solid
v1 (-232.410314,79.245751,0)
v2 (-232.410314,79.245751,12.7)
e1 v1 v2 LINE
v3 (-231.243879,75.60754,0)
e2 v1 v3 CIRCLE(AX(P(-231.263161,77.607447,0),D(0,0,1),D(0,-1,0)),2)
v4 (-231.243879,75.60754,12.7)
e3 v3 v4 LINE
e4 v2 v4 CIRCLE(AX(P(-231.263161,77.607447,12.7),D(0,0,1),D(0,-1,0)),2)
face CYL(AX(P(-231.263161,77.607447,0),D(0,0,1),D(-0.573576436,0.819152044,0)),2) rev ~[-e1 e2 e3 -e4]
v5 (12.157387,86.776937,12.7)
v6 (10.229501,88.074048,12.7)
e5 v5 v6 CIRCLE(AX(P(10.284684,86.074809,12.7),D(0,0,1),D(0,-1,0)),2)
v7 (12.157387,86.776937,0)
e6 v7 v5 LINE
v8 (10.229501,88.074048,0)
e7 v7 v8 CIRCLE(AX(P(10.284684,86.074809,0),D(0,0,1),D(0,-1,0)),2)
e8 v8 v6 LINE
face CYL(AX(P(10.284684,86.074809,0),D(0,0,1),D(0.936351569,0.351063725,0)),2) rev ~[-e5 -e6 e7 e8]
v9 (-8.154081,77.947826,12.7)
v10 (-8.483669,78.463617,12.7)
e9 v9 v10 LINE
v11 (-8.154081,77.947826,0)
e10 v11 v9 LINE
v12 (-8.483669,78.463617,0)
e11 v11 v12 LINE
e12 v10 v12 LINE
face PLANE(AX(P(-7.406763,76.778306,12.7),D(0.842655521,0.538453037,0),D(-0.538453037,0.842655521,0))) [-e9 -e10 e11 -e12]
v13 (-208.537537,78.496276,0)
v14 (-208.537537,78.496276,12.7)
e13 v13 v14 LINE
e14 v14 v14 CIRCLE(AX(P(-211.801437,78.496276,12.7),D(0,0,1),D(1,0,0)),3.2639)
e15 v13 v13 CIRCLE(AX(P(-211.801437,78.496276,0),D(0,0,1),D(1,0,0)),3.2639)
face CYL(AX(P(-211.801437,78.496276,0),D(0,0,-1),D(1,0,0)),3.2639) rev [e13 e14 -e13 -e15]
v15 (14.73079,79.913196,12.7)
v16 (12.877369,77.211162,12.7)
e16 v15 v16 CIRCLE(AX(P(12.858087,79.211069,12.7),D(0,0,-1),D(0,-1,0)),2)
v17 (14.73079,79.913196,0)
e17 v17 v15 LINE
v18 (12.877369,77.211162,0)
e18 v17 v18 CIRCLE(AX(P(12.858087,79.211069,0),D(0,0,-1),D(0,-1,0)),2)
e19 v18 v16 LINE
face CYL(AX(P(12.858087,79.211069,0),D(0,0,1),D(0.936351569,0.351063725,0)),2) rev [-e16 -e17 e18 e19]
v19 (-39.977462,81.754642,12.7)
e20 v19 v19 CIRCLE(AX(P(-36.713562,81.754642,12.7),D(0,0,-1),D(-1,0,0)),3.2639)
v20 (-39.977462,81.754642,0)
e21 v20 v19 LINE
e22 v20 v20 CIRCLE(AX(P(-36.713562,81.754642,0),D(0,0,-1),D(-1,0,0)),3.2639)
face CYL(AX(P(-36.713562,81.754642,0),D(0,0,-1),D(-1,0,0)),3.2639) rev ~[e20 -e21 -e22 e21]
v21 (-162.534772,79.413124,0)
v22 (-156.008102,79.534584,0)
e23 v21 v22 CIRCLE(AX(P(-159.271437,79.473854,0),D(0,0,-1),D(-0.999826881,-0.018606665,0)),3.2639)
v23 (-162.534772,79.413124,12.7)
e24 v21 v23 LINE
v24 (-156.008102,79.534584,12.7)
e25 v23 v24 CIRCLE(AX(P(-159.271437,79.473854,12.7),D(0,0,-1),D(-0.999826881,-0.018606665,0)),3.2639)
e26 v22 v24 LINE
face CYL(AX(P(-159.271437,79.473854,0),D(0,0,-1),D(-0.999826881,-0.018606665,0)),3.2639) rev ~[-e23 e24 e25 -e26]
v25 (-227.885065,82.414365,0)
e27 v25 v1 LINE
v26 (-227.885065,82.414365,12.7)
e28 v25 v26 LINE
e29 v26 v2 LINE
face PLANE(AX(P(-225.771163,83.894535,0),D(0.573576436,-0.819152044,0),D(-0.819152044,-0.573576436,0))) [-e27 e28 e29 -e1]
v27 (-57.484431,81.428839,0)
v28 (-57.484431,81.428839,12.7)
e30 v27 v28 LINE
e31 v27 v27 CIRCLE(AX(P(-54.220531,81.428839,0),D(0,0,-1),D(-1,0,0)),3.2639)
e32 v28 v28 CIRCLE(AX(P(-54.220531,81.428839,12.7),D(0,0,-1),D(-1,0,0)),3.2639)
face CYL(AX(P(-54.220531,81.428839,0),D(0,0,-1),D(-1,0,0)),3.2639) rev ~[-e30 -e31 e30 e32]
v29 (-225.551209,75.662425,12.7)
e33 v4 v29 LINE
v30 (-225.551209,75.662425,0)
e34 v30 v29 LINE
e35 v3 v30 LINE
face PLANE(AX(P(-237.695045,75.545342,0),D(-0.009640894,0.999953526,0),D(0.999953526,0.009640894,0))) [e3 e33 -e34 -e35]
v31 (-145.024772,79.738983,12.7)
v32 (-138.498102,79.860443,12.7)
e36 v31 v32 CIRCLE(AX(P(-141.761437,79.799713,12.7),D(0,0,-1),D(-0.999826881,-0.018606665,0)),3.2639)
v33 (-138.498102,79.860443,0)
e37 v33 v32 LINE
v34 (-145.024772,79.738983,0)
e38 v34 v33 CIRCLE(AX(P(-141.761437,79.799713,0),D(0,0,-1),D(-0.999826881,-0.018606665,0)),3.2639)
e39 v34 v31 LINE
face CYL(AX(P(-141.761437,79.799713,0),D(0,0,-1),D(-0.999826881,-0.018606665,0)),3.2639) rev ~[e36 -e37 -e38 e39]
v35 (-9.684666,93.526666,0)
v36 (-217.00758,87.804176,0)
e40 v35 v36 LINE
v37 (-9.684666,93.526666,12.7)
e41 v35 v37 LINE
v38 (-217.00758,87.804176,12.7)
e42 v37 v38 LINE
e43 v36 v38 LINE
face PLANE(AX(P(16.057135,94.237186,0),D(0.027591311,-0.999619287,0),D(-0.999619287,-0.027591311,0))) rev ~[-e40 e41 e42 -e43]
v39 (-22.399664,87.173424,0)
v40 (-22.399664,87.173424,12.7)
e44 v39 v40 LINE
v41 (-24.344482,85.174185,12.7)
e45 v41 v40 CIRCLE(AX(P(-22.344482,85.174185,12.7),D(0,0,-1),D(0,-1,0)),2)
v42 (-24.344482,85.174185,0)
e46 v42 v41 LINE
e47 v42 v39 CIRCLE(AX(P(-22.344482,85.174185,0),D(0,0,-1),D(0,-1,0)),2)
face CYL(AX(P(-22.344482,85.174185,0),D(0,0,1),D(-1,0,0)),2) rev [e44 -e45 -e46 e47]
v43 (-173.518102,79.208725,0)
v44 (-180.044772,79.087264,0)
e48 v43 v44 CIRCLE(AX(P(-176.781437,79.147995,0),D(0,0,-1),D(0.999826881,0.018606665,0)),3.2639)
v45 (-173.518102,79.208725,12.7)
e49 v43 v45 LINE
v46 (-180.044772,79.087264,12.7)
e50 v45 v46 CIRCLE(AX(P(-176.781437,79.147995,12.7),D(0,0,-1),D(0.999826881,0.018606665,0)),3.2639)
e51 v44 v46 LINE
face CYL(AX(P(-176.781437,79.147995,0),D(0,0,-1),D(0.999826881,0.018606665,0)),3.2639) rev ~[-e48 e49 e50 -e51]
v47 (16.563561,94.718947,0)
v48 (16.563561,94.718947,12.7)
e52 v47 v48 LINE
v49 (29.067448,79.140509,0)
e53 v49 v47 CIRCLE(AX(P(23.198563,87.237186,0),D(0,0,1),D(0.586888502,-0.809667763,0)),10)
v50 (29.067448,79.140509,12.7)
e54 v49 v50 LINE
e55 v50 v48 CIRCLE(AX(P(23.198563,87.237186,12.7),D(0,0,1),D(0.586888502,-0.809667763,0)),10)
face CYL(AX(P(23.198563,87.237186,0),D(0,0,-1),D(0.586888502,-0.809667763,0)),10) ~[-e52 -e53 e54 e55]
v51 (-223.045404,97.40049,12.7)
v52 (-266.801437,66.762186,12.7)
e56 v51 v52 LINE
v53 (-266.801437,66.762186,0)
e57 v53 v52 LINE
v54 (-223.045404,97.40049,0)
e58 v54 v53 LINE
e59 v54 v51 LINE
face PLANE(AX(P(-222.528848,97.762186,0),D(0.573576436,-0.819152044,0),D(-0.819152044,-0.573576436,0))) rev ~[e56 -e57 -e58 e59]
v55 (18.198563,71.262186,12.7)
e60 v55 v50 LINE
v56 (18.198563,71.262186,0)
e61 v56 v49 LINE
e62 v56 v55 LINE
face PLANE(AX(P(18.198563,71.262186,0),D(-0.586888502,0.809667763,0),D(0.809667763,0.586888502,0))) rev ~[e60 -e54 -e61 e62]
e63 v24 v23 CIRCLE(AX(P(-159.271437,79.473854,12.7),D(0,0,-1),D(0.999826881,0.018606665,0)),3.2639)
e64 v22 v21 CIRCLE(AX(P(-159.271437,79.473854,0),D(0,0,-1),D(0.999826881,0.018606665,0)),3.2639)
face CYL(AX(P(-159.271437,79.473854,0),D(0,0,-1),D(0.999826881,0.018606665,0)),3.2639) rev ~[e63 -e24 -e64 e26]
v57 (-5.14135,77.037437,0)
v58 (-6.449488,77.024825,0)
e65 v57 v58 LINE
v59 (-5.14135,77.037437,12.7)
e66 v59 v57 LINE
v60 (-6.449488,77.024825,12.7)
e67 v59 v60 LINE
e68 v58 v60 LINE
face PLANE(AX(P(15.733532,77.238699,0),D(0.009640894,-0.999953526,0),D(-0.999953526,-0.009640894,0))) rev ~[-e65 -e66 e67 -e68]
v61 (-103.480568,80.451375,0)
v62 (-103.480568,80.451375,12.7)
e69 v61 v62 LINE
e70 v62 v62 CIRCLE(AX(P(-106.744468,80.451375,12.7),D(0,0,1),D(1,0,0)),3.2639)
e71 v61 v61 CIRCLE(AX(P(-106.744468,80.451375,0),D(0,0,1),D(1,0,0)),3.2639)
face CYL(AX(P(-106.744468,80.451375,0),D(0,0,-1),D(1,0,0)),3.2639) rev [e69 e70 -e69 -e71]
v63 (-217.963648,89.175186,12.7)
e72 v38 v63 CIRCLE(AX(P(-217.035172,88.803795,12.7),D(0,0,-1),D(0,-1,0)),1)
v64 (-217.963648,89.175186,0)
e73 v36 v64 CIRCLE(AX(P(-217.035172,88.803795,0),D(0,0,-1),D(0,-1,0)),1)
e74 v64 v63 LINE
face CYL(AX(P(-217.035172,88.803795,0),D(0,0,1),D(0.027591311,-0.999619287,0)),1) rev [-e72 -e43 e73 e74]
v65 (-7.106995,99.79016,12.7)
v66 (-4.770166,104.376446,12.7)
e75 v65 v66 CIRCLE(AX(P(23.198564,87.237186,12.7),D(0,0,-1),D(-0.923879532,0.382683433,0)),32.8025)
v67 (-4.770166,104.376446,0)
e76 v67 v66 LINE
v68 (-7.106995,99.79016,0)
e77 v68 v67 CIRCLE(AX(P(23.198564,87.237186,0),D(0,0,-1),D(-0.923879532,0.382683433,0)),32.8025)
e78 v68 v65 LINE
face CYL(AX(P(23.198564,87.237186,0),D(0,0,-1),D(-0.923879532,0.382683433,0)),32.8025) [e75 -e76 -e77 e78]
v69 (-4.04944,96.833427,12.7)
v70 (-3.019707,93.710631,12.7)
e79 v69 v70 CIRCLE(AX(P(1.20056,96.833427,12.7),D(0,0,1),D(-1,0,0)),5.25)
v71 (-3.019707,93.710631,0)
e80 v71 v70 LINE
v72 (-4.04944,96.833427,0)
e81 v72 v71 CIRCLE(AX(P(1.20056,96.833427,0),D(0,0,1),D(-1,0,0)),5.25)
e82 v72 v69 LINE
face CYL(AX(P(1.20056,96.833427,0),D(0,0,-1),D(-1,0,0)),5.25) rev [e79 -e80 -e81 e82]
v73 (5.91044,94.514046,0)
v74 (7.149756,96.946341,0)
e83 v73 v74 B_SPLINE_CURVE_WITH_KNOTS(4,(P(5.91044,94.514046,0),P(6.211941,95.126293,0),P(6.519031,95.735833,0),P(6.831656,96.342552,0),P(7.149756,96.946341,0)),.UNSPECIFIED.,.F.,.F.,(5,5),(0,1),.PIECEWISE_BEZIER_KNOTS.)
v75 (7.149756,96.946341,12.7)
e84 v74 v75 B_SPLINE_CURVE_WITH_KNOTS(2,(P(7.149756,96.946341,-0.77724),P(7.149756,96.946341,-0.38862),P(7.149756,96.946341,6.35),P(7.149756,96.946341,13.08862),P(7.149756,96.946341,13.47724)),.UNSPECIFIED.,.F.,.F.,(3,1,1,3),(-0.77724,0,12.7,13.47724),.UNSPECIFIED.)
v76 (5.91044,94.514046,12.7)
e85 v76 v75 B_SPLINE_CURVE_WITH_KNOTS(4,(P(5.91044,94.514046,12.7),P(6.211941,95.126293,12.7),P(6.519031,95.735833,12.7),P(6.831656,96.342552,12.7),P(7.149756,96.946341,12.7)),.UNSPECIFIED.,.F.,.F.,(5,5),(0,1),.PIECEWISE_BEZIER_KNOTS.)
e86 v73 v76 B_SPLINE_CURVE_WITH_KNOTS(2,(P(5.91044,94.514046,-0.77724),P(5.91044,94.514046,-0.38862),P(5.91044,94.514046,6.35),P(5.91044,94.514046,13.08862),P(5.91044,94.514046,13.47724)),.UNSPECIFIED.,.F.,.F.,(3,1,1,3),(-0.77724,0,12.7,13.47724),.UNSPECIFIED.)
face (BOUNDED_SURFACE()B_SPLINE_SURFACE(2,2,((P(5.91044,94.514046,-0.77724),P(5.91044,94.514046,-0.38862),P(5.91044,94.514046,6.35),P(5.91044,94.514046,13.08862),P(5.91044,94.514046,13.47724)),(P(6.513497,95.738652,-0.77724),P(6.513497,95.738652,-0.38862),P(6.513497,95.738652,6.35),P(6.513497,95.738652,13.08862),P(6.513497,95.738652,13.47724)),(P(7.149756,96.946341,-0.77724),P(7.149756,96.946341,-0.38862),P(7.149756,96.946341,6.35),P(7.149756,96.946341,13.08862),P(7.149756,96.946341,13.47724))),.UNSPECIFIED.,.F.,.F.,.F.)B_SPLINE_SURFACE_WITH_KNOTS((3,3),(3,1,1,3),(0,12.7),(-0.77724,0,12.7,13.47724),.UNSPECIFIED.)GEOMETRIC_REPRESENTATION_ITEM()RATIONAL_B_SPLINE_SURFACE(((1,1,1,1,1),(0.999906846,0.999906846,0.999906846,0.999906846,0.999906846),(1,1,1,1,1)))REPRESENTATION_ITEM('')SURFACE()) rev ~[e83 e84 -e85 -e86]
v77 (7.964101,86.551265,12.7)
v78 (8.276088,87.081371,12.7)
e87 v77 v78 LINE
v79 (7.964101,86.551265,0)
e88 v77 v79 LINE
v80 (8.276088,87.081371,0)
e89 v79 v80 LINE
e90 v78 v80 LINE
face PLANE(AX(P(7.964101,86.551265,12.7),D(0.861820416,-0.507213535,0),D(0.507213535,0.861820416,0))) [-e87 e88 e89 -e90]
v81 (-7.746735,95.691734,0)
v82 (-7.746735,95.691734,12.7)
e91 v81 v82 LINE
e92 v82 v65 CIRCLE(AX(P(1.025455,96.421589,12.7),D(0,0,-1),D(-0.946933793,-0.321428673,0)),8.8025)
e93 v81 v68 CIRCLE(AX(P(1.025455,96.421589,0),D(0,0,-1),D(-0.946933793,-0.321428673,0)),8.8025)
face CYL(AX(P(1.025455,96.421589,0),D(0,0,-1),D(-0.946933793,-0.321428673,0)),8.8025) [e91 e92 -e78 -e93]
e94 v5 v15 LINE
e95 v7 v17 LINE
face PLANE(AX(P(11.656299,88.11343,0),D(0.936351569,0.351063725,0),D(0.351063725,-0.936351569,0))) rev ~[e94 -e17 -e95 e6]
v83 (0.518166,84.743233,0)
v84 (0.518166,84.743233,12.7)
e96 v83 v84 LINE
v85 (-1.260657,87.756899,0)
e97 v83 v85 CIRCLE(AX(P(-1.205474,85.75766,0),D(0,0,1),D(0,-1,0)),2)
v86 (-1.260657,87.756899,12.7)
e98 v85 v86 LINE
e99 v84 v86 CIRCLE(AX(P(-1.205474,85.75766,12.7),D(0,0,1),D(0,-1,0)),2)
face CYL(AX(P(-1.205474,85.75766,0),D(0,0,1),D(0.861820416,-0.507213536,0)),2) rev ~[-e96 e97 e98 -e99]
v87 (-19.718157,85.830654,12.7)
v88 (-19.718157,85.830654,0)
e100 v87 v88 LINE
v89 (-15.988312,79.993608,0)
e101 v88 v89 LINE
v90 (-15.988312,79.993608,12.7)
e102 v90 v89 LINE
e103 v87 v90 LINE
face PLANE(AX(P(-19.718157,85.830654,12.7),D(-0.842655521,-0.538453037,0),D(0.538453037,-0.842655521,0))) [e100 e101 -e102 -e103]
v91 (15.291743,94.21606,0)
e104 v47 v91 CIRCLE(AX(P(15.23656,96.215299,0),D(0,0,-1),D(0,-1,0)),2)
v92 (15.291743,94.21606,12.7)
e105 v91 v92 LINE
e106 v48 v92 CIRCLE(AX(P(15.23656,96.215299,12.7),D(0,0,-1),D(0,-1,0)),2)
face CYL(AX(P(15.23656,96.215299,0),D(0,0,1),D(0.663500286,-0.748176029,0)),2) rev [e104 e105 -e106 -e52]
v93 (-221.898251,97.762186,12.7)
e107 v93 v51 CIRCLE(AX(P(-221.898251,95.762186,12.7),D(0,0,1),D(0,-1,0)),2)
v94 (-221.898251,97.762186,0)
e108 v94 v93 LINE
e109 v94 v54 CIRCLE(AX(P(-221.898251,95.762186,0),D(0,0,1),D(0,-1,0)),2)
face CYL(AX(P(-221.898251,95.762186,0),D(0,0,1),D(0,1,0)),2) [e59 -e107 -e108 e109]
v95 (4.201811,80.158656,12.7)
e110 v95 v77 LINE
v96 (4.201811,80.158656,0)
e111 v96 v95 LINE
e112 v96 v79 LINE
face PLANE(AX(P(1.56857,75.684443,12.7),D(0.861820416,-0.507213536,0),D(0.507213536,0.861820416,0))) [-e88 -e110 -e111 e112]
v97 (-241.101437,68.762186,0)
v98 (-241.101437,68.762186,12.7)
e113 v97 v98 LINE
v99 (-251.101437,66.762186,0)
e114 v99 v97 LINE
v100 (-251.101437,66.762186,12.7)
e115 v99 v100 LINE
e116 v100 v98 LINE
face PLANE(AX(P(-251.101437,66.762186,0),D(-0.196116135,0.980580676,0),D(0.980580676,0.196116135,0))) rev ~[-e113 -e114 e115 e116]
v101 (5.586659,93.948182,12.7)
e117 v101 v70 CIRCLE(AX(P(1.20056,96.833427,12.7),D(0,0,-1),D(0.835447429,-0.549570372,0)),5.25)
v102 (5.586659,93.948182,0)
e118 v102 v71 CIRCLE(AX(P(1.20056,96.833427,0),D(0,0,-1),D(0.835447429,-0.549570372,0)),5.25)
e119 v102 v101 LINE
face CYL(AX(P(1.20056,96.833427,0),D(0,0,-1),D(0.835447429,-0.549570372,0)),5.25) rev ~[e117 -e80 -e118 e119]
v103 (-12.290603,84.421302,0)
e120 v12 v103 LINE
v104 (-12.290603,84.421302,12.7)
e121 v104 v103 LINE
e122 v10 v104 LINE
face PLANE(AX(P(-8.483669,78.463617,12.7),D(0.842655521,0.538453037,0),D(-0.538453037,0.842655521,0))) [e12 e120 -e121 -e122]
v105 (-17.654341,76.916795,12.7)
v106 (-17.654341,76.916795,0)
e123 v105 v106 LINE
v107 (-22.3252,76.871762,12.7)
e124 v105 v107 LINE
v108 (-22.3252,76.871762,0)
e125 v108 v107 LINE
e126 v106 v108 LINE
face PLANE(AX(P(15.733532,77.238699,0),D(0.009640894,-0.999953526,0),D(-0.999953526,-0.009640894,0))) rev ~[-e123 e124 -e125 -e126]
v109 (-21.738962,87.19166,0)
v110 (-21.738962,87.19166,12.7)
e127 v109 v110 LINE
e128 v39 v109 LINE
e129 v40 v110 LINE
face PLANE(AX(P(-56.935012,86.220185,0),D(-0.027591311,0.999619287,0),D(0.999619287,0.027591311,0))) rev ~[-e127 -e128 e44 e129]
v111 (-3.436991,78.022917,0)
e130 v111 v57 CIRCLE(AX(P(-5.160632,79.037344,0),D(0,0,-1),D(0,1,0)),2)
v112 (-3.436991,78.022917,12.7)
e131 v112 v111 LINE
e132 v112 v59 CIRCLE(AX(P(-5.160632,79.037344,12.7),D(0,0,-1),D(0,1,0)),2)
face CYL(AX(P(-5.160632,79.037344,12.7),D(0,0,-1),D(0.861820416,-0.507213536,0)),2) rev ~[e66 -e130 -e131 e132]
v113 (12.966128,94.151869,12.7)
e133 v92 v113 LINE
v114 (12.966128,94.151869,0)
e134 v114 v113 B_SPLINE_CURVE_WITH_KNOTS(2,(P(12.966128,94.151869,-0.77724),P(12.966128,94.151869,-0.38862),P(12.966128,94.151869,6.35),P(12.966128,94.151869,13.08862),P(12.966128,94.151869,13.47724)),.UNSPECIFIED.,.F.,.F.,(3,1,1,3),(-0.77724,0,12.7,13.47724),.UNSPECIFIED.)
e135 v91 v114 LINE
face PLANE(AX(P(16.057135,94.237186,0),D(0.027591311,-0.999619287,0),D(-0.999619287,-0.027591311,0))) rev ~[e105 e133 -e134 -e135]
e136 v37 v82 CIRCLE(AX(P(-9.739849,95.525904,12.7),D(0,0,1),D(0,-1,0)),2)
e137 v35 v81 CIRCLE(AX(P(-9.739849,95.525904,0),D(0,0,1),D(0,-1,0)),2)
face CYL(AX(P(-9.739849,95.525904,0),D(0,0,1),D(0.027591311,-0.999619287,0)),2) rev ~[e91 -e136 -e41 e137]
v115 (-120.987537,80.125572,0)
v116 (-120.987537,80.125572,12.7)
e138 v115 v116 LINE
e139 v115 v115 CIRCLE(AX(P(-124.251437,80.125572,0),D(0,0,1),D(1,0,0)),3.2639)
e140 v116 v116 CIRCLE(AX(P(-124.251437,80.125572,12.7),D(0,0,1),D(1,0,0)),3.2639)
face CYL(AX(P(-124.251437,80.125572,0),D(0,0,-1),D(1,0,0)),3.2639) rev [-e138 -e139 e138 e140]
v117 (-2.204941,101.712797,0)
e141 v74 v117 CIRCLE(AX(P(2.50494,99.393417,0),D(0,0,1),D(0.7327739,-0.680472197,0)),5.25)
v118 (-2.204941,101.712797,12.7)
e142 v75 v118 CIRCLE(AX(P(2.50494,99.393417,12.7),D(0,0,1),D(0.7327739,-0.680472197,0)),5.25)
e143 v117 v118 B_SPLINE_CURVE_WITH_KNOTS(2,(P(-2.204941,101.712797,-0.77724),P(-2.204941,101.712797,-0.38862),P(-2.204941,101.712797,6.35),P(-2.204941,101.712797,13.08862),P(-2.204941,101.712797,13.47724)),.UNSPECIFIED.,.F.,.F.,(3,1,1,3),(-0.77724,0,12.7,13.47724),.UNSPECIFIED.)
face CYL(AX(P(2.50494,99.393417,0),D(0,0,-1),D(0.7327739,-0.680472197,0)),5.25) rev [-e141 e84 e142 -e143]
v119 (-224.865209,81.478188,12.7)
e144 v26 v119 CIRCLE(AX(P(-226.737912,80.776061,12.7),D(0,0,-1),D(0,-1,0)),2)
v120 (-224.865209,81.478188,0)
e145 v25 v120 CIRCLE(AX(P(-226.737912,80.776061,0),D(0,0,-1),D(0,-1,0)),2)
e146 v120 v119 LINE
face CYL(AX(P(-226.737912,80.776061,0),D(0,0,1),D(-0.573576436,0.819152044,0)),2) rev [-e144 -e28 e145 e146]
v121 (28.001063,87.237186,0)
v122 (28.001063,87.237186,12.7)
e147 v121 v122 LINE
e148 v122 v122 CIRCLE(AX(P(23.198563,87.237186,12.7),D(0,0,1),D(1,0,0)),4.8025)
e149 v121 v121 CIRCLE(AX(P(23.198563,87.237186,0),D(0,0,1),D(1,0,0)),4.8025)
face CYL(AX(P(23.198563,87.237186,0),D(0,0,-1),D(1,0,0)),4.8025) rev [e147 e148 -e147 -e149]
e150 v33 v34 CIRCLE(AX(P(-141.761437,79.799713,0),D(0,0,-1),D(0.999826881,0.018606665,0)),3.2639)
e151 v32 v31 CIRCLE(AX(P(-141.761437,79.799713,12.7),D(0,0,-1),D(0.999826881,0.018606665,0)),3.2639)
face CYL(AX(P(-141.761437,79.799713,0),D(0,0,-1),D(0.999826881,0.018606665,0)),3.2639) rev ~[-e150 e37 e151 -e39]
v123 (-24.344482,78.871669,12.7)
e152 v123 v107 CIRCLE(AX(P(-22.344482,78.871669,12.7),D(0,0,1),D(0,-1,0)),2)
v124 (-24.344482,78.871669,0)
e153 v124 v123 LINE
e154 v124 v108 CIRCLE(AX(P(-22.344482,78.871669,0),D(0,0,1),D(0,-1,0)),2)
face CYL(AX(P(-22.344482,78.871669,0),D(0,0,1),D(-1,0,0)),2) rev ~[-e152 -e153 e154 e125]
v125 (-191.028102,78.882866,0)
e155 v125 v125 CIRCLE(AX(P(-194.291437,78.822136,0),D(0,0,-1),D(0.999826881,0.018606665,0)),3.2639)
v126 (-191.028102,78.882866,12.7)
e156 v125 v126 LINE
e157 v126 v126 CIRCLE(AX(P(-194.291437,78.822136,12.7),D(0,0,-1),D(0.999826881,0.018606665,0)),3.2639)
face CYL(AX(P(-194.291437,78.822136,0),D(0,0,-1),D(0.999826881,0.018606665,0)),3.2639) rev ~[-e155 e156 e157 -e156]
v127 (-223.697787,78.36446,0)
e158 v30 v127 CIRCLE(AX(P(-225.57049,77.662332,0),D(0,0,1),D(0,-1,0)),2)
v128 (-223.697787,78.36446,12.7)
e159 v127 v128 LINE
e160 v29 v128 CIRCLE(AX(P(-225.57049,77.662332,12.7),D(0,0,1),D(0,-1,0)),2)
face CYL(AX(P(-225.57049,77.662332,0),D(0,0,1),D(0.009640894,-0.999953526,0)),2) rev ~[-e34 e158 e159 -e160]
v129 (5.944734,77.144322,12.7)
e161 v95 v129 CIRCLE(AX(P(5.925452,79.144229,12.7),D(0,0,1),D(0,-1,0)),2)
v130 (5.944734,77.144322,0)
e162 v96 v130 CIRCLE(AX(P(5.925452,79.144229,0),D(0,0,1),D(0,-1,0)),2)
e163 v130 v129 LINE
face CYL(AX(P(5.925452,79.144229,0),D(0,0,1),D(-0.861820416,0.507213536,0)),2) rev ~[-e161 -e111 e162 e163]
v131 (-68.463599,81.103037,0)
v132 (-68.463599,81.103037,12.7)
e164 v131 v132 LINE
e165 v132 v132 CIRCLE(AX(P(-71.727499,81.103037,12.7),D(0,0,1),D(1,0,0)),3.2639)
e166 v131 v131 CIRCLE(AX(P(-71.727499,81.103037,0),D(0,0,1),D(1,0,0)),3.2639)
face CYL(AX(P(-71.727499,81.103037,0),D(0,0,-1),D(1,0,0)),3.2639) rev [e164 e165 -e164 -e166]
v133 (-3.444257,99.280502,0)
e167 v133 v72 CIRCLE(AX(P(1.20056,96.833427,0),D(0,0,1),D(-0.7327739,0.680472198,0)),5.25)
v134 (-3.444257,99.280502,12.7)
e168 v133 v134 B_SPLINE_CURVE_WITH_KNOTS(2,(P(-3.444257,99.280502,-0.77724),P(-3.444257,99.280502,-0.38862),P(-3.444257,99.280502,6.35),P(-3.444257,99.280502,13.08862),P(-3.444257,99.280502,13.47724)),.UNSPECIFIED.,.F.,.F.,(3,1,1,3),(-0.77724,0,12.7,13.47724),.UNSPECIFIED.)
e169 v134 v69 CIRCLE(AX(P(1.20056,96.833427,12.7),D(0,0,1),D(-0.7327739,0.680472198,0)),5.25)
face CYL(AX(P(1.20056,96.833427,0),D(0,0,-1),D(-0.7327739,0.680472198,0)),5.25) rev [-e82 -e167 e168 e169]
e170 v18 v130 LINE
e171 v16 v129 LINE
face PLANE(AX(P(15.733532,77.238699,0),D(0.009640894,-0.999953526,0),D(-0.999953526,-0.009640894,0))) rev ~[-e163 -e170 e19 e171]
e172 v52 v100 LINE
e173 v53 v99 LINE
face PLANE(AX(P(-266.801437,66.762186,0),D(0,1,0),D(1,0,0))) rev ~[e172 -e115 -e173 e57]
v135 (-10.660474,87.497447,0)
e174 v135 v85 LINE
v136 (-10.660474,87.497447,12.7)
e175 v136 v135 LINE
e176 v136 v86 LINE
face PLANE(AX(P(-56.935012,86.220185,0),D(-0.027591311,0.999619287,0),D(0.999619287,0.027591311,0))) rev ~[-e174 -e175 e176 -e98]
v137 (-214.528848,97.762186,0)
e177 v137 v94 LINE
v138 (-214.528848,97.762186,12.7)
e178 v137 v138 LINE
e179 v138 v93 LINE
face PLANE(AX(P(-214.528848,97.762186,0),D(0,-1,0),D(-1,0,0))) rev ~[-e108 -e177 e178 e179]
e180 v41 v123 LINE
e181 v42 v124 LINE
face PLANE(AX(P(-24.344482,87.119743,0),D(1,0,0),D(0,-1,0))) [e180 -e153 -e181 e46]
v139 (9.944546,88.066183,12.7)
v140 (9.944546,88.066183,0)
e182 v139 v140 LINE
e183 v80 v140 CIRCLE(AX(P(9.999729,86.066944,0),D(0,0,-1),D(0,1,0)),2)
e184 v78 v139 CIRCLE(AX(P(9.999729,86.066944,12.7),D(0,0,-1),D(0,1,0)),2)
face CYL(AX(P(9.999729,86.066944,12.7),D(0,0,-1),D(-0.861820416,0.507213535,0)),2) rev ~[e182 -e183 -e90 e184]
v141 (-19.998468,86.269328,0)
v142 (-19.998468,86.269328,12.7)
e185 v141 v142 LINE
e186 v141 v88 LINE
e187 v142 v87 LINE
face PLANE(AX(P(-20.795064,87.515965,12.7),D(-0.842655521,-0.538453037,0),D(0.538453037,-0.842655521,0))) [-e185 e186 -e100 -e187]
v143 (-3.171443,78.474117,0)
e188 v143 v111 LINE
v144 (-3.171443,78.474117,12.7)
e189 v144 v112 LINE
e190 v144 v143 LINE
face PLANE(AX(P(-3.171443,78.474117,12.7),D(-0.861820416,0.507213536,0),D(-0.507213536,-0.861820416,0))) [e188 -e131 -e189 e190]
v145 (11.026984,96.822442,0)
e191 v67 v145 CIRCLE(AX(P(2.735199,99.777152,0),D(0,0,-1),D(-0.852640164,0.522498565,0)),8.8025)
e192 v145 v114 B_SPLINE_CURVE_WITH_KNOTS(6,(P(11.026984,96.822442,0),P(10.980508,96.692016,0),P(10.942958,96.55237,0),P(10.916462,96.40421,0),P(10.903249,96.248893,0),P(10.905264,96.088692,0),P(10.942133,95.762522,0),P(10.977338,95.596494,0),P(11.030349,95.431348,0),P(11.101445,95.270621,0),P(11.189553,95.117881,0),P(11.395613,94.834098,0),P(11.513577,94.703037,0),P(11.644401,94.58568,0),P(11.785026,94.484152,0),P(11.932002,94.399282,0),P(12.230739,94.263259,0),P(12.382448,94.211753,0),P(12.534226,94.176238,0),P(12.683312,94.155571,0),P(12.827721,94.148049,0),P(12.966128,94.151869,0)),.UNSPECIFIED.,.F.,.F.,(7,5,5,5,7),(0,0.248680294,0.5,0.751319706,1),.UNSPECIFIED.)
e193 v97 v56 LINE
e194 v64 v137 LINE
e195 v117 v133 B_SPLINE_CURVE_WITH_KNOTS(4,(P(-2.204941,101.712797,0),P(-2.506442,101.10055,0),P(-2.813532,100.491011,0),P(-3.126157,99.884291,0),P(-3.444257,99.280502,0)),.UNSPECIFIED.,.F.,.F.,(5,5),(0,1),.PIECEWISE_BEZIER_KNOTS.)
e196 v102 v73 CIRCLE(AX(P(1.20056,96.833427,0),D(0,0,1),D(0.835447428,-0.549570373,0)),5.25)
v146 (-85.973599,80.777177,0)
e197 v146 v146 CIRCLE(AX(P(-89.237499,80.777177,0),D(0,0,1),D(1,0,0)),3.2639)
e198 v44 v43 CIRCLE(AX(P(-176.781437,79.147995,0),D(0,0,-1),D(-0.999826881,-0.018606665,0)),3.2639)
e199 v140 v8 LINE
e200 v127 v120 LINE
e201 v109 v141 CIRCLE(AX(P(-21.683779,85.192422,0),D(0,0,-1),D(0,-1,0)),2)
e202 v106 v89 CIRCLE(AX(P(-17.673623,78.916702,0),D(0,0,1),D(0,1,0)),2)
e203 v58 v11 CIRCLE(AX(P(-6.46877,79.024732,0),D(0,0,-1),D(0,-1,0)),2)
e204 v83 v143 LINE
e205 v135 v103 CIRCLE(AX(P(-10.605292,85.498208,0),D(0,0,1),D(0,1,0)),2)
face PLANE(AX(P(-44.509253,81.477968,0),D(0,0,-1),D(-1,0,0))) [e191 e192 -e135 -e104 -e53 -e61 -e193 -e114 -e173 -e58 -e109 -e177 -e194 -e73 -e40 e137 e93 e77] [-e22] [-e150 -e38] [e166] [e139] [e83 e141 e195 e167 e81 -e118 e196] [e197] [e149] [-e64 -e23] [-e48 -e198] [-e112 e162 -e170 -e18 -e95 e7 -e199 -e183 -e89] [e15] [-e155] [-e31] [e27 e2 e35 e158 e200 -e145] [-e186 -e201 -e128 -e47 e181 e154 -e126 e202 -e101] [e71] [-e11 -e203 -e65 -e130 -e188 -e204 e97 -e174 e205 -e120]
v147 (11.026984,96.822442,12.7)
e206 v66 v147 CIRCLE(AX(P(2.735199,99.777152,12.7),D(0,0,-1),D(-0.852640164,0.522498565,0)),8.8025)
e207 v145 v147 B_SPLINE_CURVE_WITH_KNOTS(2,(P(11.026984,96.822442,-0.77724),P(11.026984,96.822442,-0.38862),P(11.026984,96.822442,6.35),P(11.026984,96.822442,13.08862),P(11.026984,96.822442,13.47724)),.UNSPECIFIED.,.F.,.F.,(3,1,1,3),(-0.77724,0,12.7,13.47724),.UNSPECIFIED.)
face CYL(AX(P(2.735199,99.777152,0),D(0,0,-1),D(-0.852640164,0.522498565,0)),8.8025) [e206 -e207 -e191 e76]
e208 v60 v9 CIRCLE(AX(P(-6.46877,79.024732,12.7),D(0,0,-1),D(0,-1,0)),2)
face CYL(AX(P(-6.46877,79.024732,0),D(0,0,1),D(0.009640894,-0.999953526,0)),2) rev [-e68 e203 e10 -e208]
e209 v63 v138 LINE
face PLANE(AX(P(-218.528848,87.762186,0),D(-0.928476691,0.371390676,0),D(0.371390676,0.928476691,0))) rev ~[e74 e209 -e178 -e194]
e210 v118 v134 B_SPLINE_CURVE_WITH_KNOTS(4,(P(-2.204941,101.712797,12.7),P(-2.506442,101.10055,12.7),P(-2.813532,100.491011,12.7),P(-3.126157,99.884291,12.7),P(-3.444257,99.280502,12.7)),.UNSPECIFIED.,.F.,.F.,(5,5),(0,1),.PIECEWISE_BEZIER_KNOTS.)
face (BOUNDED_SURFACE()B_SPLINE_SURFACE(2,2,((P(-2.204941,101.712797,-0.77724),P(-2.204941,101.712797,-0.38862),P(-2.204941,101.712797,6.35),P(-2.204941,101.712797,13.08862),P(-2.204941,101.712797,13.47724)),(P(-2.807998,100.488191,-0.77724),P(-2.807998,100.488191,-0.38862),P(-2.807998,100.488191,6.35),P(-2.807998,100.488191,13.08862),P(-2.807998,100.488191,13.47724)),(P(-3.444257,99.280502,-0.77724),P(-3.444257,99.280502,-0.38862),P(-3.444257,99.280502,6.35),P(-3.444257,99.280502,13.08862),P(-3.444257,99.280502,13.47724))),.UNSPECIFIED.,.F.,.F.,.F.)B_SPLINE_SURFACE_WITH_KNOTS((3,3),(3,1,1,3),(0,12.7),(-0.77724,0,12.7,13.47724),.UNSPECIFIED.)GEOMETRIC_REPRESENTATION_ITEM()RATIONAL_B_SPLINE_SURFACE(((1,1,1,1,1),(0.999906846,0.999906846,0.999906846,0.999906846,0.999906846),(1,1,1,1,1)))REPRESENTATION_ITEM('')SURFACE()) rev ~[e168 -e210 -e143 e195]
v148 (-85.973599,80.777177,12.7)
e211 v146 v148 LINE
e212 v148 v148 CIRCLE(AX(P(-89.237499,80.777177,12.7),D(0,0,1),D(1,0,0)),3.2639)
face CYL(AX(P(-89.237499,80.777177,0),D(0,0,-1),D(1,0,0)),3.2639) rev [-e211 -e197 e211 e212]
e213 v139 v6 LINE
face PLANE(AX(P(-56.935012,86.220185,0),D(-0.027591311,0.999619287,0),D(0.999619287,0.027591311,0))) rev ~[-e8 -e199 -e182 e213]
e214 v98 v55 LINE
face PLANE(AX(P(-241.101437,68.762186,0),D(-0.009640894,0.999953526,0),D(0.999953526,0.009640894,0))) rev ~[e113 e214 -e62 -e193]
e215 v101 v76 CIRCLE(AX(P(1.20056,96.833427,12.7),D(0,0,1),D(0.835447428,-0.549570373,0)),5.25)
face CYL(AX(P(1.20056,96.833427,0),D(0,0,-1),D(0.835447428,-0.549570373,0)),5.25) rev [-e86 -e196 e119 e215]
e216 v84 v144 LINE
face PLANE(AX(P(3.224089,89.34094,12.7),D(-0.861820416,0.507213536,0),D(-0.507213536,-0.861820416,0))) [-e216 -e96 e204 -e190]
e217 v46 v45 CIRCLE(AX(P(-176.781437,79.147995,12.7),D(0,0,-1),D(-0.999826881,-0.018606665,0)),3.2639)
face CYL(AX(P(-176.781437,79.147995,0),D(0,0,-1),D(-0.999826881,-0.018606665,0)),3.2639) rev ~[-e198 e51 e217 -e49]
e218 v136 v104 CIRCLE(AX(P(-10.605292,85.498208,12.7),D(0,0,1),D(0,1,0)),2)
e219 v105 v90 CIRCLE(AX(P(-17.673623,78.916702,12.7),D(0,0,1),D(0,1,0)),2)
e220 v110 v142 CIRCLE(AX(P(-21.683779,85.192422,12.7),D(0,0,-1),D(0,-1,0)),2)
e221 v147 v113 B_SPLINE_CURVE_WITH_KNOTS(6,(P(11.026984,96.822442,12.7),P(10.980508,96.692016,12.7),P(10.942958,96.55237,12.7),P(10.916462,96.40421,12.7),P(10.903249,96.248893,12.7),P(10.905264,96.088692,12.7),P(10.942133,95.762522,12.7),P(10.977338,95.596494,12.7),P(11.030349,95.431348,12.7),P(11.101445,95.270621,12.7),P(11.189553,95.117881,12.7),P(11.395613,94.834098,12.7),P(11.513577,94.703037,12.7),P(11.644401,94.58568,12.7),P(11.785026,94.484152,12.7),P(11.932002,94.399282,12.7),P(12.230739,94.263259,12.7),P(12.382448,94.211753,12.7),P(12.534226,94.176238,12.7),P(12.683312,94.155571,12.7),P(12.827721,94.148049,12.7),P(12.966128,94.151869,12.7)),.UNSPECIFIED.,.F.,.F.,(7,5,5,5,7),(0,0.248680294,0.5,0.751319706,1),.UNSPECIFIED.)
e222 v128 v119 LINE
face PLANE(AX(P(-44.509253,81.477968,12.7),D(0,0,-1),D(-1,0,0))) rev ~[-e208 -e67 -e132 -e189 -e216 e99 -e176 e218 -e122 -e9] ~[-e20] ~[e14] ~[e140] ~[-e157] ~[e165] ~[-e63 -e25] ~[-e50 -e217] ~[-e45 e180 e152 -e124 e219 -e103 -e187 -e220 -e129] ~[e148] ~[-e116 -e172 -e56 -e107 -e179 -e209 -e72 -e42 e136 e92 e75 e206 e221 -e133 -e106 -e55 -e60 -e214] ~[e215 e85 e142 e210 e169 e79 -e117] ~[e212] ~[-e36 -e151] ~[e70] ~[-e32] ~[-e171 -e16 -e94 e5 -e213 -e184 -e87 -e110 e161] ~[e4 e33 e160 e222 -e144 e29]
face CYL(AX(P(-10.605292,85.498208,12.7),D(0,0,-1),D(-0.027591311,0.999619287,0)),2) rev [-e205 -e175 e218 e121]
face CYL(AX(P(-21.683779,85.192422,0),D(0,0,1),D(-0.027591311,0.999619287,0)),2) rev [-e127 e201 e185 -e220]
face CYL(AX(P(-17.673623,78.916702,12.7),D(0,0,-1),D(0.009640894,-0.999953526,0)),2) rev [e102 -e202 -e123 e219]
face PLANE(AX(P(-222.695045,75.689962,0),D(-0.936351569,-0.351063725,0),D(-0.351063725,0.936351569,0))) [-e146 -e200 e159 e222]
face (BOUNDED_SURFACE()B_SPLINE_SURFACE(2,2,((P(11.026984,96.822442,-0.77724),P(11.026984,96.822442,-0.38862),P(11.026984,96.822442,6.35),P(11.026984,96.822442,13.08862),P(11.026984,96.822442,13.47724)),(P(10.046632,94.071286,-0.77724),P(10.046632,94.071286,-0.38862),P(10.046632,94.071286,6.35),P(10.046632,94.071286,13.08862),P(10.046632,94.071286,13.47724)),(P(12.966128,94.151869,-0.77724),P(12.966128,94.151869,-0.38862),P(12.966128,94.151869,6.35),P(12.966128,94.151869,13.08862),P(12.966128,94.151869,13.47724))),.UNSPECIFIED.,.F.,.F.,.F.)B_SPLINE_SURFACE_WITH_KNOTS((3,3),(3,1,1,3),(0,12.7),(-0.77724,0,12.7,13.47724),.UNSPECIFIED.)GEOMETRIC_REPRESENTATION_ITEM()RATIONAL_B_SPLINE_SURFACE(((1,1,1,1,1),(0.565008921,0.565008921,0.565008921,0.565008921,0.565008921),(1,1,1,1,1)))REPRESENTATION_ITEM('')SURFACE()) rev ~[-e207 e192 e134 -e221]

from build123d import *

# Parameters (mm, degrees)
SKETCH1_R           = 3.2639
SKETCH1_R_2         = 4.8025
BOSS_EXTRUDE1_DEPTH = 12.7
EXTRUDE_THIN1_DEPTH = 12.7
FILLET6_R           = 2
FILLET3_R           = 1
FILLET4_R           = 2
BOSS_EXTRUDE5_DEPTH = 12.7
CUT_EXTRUDE8_DEPTH  = 12.7
FILLET13_R          = 100
FILLET14_R          = 2
CUT_EXTRUDE9_DEPTH  = 12.7
FILLET16_R          = 2
BOSS_EXTRUDE6_DEPTH = 12.7
SKETCH18_R          = 3.2639
CUT_EXTRUDE10_DEPTH = 12.7
FILLET17_R          = 2


with BuildPart() as part:
    # Sketch1 → Boss-Extrude1 (new body)
    with BuildSketch(Plane.XY):
        with BuildLine():
            Line((-266.801436578, 66.762186411), (-251.101436578, 66.762186411))
            Line((-251.101436578, 66.762186411), (-241.101436578, 68.762186411))
            Line((-241.101436578, 68.762186411), (18.198563422, 71.262186411))
            Line((18.198563422, 71.262186411), (29.067448443, 79.140508783))
            ThreePointArc((29.067448443, 79.140508783), (30.773671377, 93.765412775), (16.057134994, 94.237186411))
            Line((16.057134994, 94.237186411), (-218.528848369, 87.762186411))
            Line((-218.528848369, 87.762186411), (-214.528848369, 97.762186411))
            Line((-214.528848369, 97.762186411), (-222.528848369, 97.762186411))
            Line((-222.528848369, 97.762186411), (-266.801436578, 66.762186411))
        make_face()
        with Locations((-211.801436578, 78.496276476)):
            Circle(SKETCH1_R, mode=Mode.SUBTRACT)
        with BuildLine():
            ThreePointArc((-197.554771535, 78.761405302), (-194.352166872, 82.085470554), (-191.028101621, 78.882865891))
            ThreePointArc((-191.028101621, 78.882865891), (-194.230706283, 75.55880064), (-197.554771535, 78.761405302))
        make_face(mode=Mode.SUBTRACT)
        with BuildLine():
            ThreePointArc((-180.044771535, 79.087264423), (-176.842166872, 82.411329675), (-173.518101621, 79.208725013))
            ThreePointArc((-173.518101621, 79.208725013), (-176.720706283, 75.884659761), (-180.044771535, 79.087264423))
        make_face(mode=Mode.SUBTRACT)
        with BuildLine():
            ThreePointArc((-162.534771535, 79.413123544), (-159.332166872, 82.737188796), (-156.008101621, 79.534584134))
            ThreePointArc((-156.008101621, 79.534584134), (-159.210706283, 76.210518882), (-162.534771535, 79.413123544))
        make_face(mode=Mode.SUBTRACT)
        with BuildLine():
            ThreePointArc((-145.024771535, 79.738982665), (-141.822166872, 83.063047917), (-138.498101621, 79.860443255))
            ThreePointArc((-138.498101621, 79.860443255), (-141.700706283, 76.536378003), (-145.024771535, 79.738982665))
        make_face(mode=Mode.SUBTRACT)
        with Locations((-124.251436578, 80.125572081)):
            Circle(SKETCH1_R, mode=Mode.SUBTRACT)
        with Locations((-106.744467891, 80.45137479)):
            Circle(SKETCH1_R, mode=Mode.SUBTRACT)
        with Locations((-89.237499204, 80.777177499)):
            Circle(SKETCH1_R, mode=Mode.SUBTRACT)
        with Locations((-71.727499204, 81.10303662)):
            Circle(SKETCH1_R, mode=Mode.SUBTRACT)
        with BuildLine():
            ThreePointArc((-56.754762895, 76.539814612), (-61.641816892, 81.290680691), (-56.935012167, 86.220185184))
            Line((-56.935012167, 86.220185184), (11.656299, 88.113430183))
            Line((11.656299, 88.113430183), (15.733532107, 77.238699061))
            Line((15.733532107, 77.238699061), (-56.754762895, 76.539814612))
        make_face(mode=Mode.SUBTRACT)
        with Locations((23.198563422, 87.237186411)):
            Circle(SKETCH1_R_2, mode=Mode.SUBTRACT)
    extrude(amount=BOSS_EXTRUDE1_DEPTH)

    # Sketch3 → Extrude-Thin1 (add)
    with BuildSketch(Plane.XY.offset(12.7)):
        Polygon((4.238515695, 91.06458037), (3.224088624, 89.340939538), (-3.171442721, 78.474116994), (-4.185869793, 76.750476162), (0.554142495, 73.960801716), (1.568569566, 75.684442548), (7.964100911, 86.551265092), (8.978527982, 88.274905924), align=None)
        Polygon((-7.406763076, 76.778305642), (-8.483669151, 78.463616684), (-15.08355213, 88.792145717), (-16.160458205, 90.477456759), (-20.795063569, 87.515965054), (-19.718157494, 85.830654012), (-13.118274515, 75.502124979), (-12.04136844, 73.816813937), align=None)
        Polygon((-55.789995158, 86.920345113), (-54.713089083, 85.235034072), (-48.113206103, 74.906505038), (-47.036300029, 73.221193997), (-42.401694665, 76.182685702), (-43.478600739, 77.867996743), (-50.078483719, 88.196525777), (-51.155389794, 89.881836818), align=None)
        Polygon((-30.756415894, 90.46896043), (-31.770842965, 88.745319598), (-38.16637431, 77.878497054), (-39.180801381, 76.154856222), (-34.440789094, 73.365181776), (-33.426362022, 75.088822608), (-27.030830678, 85.955645152), (-26.016403606, 87.679285984), align=None)
    extrude(amount=-EXTRUDE_THIN1_DEPTH)

    # Fillet6
    fillet6_edges = [part.edges().sort_by_distance(p)[0] for p in [
        (-7.55746183, 77.014142621, 6.35),
        (-14.193924314, 87.399916982, 6.35),
        (-38.852657232, 76.712414937, 6.35),
        (-32.865984778, 86.884534137, 6.35),
        (-32.434398171, 76.774295568, 6.35),
        (-26.378761772, 87.063593296, 6.35),
        (-49.203405679, 76.61261983, 6.35),
        (-55.370195509, 86.263376972, 6.35),
        (-42.716385675, 76.675163409, 6.35),
        (-48.956334512, 86.440411206, 6.35),
        (15.733532107, 77.238699061, 6.35),
        (11.656299, 88.113430183, 6.35),
        (-4.010566108, 77.048339456, 6.35),
        (2.350483264, 87.856572736, 6.35),
        (2.407692953, 77.110220087, 6.35),
        (8.83770627, 88.035631895, 6.35),
    ]]
    fillet(fillet6_edges, radius=FILLET6_R)

    # Fillet3
    fillet3_edges = [part.edges().sort_by_distance(p)[0] for p in [
        (-218.528848369, 87.762186411, 6.35),
    ]]
    fillet(fillet3_edges, radius=FILLET3_R)

    # Fillet4
    fillet4_edges = [part.edges().sort_by_distance(p)[0] for p in [
        (-222.528848369, 97.762186411, 6.35),
    ]]
    fillet(fillet4_edges, radius=FILLET4_R)

    # Sketch15 → Boss-Extrude5 (add)
    with BuildSketch(Plane(origin=(0, 0, 0), x_dir=(-1, 0, 0), z_dir=(0, 0, -1))):
        with BuildLine():
            ThreePointArc((-10.240564525, 95.177858348), (-9.91771052, 94.625214052), (-9.618412164, 94.059465945))
            Line((-9.618412164, 94.059465945), (-5.586658581, 93.948182209))
            ThreePointArc((-5.586658581, 93.948182209), (-6.060393003, 94.847345318), (-6.352002714, 95.820937828))
            ThreePointArc((-6.352002714, 95.820937828), (-4.888389862, 104.071201116), (2.646503395, 100.405905698))
            ThreePointArc((2.646503395, 100.405905698), (3.686135654, 98.752465403), (4.04944042, 96.833426662))
            ThreePointArc((4.04944042, 96.833426662), (3.785365476, 95.18933076), (3.019706577, 93.710630871))
            Line((3.019706577, 93.710630871), (7.309930071, 93.592212896))
            ThreePointArc((7.309930071, 93.592212896), (7.772330748, 96.70964865), (7.106994943, 99.790159701))
            ThreePointArc((7.106994943, 99.790159701), (6.028678087, 102.129209778), (4.770165569, 104.37644558))
            ThreePointArc((4.770165569, 104.37644558), (-7.334493094, 107.282517011), (-10.240564525, 95.177858348))
        make_face()
    extrude(amount=-BOSS_EXTRUDE5_DEPTH)

    # Sketch15<3> → Cut-Extrude8 (cut)
    with BuildSketch(Plane(origin=(0, 0, 0), x_dir=(-1, 0, 0), z_dir=(0, 0, -1))):
        with BuildLine():
            Line((3.019706577, 93.710630871), (-5.586658581, 93.948182209))
            ThreePointArc((-5.586658581, 93.948182209), (-1.345413965, 91.585425404), (3.019706577, 93.710630871))
        make_face()
    extrude(amount=-CUT_EXTRUDE8_DEPTH, mode=Mode.SUBTRACT)

    # Fillet13
    fillet13_edges = [part.edges().sort_by_distance(p)[0] for p in [
        (6.352002714, 95.820937828, 6.35),
        (-2.646503395, 100.405905698, 6.35),
    ]]
    fillet(fillet13_edges, radius=FILLET13_R)

    # Fillet14
    fillet14_edges = [part.edges().sort_by_distance(p)[0] for p in [
        (16.057134994, 94.237186411, 6.35),
        (-7.309930071, 93.592212896, 6.35),
        (9.618412164, 94.059465945, 6.35),
    ]]
    fillet(fillet14_edges, radius=FILLET14_R)

    # Sketch17 → Cut-Extrude9 (cut)
    with BuildSketch(Plane(origin=(0, 0, 0), x_dir=(-1, 0, 0), z_dir=(0, 0, -1))):
        Polygon((225.771163147, 83.894534568), (237.695045428, 75.54534231), (222.695045428, 75.689962442), align=None)
    extrude(amount=-CUT_EXTRUDE9_DEPTH, mode=Mode.SUBTRACT)

    # Fillet16
    fillet16_edges = [part.edges().sort_by_distance(p)[0] for p in [
        (-237.695045428, 75.54534231, 6.35),
        (-225.771163147, 83.894534568, 6.35),
        (-222.695045428, 75.689962442, 6.35),
    ]]
    fillet(fillet16_edges, radius=FILLET16_R)

    # Sketch20 → Boss-Extrude6 (add)
    with BuildSketch(Plane(origin=(0, 0, 0), x_dir=(-1, 0, 0), z_dir=(0, 0, -1))):
        Polygon((24.344481835, 87.119743124), (24.344481835, 76.852293218), (33.994868443, 72.80053303), (65.802348689, 76.852293218), (61.329456715, 89.562181047), align=None)
    extrude(amount=-BOSS_EXTRUDE6_DEPTH)

    # Sketch18 → Cut-Extrude10 (cut)
    with BuildSketch(Plane(origin=(0, 0, 0), x_dir=(-1, 0, 0), z_dir=(0, 0, -1))):
        with Locations((54.220530518, 81.428839328)):
            Circle(SKETCH18_R)
        with Locations((36.713561831, 81.754642037)):
            Circle(SKETCH18_R)
    extrude(amount=-CUT_EXTRUDE10_DEPTH, mode=Mode.SUBTRACT)

    # Fillet17
    fillet17_edges = [part.edges().sort_by_distance(p)[0] for p in [
        (-14.044481835, 76.951599042, 6.35),
        (-20.607785311, 87.222882748, 6.35),
        (-24.344481835, 76.852293218, 6.35),
        (-24.344481835, 87.119743124, 6.35),
    ]]
    fillet(fillet17_edges, radius=FILLET17_R)


solid = part.part
